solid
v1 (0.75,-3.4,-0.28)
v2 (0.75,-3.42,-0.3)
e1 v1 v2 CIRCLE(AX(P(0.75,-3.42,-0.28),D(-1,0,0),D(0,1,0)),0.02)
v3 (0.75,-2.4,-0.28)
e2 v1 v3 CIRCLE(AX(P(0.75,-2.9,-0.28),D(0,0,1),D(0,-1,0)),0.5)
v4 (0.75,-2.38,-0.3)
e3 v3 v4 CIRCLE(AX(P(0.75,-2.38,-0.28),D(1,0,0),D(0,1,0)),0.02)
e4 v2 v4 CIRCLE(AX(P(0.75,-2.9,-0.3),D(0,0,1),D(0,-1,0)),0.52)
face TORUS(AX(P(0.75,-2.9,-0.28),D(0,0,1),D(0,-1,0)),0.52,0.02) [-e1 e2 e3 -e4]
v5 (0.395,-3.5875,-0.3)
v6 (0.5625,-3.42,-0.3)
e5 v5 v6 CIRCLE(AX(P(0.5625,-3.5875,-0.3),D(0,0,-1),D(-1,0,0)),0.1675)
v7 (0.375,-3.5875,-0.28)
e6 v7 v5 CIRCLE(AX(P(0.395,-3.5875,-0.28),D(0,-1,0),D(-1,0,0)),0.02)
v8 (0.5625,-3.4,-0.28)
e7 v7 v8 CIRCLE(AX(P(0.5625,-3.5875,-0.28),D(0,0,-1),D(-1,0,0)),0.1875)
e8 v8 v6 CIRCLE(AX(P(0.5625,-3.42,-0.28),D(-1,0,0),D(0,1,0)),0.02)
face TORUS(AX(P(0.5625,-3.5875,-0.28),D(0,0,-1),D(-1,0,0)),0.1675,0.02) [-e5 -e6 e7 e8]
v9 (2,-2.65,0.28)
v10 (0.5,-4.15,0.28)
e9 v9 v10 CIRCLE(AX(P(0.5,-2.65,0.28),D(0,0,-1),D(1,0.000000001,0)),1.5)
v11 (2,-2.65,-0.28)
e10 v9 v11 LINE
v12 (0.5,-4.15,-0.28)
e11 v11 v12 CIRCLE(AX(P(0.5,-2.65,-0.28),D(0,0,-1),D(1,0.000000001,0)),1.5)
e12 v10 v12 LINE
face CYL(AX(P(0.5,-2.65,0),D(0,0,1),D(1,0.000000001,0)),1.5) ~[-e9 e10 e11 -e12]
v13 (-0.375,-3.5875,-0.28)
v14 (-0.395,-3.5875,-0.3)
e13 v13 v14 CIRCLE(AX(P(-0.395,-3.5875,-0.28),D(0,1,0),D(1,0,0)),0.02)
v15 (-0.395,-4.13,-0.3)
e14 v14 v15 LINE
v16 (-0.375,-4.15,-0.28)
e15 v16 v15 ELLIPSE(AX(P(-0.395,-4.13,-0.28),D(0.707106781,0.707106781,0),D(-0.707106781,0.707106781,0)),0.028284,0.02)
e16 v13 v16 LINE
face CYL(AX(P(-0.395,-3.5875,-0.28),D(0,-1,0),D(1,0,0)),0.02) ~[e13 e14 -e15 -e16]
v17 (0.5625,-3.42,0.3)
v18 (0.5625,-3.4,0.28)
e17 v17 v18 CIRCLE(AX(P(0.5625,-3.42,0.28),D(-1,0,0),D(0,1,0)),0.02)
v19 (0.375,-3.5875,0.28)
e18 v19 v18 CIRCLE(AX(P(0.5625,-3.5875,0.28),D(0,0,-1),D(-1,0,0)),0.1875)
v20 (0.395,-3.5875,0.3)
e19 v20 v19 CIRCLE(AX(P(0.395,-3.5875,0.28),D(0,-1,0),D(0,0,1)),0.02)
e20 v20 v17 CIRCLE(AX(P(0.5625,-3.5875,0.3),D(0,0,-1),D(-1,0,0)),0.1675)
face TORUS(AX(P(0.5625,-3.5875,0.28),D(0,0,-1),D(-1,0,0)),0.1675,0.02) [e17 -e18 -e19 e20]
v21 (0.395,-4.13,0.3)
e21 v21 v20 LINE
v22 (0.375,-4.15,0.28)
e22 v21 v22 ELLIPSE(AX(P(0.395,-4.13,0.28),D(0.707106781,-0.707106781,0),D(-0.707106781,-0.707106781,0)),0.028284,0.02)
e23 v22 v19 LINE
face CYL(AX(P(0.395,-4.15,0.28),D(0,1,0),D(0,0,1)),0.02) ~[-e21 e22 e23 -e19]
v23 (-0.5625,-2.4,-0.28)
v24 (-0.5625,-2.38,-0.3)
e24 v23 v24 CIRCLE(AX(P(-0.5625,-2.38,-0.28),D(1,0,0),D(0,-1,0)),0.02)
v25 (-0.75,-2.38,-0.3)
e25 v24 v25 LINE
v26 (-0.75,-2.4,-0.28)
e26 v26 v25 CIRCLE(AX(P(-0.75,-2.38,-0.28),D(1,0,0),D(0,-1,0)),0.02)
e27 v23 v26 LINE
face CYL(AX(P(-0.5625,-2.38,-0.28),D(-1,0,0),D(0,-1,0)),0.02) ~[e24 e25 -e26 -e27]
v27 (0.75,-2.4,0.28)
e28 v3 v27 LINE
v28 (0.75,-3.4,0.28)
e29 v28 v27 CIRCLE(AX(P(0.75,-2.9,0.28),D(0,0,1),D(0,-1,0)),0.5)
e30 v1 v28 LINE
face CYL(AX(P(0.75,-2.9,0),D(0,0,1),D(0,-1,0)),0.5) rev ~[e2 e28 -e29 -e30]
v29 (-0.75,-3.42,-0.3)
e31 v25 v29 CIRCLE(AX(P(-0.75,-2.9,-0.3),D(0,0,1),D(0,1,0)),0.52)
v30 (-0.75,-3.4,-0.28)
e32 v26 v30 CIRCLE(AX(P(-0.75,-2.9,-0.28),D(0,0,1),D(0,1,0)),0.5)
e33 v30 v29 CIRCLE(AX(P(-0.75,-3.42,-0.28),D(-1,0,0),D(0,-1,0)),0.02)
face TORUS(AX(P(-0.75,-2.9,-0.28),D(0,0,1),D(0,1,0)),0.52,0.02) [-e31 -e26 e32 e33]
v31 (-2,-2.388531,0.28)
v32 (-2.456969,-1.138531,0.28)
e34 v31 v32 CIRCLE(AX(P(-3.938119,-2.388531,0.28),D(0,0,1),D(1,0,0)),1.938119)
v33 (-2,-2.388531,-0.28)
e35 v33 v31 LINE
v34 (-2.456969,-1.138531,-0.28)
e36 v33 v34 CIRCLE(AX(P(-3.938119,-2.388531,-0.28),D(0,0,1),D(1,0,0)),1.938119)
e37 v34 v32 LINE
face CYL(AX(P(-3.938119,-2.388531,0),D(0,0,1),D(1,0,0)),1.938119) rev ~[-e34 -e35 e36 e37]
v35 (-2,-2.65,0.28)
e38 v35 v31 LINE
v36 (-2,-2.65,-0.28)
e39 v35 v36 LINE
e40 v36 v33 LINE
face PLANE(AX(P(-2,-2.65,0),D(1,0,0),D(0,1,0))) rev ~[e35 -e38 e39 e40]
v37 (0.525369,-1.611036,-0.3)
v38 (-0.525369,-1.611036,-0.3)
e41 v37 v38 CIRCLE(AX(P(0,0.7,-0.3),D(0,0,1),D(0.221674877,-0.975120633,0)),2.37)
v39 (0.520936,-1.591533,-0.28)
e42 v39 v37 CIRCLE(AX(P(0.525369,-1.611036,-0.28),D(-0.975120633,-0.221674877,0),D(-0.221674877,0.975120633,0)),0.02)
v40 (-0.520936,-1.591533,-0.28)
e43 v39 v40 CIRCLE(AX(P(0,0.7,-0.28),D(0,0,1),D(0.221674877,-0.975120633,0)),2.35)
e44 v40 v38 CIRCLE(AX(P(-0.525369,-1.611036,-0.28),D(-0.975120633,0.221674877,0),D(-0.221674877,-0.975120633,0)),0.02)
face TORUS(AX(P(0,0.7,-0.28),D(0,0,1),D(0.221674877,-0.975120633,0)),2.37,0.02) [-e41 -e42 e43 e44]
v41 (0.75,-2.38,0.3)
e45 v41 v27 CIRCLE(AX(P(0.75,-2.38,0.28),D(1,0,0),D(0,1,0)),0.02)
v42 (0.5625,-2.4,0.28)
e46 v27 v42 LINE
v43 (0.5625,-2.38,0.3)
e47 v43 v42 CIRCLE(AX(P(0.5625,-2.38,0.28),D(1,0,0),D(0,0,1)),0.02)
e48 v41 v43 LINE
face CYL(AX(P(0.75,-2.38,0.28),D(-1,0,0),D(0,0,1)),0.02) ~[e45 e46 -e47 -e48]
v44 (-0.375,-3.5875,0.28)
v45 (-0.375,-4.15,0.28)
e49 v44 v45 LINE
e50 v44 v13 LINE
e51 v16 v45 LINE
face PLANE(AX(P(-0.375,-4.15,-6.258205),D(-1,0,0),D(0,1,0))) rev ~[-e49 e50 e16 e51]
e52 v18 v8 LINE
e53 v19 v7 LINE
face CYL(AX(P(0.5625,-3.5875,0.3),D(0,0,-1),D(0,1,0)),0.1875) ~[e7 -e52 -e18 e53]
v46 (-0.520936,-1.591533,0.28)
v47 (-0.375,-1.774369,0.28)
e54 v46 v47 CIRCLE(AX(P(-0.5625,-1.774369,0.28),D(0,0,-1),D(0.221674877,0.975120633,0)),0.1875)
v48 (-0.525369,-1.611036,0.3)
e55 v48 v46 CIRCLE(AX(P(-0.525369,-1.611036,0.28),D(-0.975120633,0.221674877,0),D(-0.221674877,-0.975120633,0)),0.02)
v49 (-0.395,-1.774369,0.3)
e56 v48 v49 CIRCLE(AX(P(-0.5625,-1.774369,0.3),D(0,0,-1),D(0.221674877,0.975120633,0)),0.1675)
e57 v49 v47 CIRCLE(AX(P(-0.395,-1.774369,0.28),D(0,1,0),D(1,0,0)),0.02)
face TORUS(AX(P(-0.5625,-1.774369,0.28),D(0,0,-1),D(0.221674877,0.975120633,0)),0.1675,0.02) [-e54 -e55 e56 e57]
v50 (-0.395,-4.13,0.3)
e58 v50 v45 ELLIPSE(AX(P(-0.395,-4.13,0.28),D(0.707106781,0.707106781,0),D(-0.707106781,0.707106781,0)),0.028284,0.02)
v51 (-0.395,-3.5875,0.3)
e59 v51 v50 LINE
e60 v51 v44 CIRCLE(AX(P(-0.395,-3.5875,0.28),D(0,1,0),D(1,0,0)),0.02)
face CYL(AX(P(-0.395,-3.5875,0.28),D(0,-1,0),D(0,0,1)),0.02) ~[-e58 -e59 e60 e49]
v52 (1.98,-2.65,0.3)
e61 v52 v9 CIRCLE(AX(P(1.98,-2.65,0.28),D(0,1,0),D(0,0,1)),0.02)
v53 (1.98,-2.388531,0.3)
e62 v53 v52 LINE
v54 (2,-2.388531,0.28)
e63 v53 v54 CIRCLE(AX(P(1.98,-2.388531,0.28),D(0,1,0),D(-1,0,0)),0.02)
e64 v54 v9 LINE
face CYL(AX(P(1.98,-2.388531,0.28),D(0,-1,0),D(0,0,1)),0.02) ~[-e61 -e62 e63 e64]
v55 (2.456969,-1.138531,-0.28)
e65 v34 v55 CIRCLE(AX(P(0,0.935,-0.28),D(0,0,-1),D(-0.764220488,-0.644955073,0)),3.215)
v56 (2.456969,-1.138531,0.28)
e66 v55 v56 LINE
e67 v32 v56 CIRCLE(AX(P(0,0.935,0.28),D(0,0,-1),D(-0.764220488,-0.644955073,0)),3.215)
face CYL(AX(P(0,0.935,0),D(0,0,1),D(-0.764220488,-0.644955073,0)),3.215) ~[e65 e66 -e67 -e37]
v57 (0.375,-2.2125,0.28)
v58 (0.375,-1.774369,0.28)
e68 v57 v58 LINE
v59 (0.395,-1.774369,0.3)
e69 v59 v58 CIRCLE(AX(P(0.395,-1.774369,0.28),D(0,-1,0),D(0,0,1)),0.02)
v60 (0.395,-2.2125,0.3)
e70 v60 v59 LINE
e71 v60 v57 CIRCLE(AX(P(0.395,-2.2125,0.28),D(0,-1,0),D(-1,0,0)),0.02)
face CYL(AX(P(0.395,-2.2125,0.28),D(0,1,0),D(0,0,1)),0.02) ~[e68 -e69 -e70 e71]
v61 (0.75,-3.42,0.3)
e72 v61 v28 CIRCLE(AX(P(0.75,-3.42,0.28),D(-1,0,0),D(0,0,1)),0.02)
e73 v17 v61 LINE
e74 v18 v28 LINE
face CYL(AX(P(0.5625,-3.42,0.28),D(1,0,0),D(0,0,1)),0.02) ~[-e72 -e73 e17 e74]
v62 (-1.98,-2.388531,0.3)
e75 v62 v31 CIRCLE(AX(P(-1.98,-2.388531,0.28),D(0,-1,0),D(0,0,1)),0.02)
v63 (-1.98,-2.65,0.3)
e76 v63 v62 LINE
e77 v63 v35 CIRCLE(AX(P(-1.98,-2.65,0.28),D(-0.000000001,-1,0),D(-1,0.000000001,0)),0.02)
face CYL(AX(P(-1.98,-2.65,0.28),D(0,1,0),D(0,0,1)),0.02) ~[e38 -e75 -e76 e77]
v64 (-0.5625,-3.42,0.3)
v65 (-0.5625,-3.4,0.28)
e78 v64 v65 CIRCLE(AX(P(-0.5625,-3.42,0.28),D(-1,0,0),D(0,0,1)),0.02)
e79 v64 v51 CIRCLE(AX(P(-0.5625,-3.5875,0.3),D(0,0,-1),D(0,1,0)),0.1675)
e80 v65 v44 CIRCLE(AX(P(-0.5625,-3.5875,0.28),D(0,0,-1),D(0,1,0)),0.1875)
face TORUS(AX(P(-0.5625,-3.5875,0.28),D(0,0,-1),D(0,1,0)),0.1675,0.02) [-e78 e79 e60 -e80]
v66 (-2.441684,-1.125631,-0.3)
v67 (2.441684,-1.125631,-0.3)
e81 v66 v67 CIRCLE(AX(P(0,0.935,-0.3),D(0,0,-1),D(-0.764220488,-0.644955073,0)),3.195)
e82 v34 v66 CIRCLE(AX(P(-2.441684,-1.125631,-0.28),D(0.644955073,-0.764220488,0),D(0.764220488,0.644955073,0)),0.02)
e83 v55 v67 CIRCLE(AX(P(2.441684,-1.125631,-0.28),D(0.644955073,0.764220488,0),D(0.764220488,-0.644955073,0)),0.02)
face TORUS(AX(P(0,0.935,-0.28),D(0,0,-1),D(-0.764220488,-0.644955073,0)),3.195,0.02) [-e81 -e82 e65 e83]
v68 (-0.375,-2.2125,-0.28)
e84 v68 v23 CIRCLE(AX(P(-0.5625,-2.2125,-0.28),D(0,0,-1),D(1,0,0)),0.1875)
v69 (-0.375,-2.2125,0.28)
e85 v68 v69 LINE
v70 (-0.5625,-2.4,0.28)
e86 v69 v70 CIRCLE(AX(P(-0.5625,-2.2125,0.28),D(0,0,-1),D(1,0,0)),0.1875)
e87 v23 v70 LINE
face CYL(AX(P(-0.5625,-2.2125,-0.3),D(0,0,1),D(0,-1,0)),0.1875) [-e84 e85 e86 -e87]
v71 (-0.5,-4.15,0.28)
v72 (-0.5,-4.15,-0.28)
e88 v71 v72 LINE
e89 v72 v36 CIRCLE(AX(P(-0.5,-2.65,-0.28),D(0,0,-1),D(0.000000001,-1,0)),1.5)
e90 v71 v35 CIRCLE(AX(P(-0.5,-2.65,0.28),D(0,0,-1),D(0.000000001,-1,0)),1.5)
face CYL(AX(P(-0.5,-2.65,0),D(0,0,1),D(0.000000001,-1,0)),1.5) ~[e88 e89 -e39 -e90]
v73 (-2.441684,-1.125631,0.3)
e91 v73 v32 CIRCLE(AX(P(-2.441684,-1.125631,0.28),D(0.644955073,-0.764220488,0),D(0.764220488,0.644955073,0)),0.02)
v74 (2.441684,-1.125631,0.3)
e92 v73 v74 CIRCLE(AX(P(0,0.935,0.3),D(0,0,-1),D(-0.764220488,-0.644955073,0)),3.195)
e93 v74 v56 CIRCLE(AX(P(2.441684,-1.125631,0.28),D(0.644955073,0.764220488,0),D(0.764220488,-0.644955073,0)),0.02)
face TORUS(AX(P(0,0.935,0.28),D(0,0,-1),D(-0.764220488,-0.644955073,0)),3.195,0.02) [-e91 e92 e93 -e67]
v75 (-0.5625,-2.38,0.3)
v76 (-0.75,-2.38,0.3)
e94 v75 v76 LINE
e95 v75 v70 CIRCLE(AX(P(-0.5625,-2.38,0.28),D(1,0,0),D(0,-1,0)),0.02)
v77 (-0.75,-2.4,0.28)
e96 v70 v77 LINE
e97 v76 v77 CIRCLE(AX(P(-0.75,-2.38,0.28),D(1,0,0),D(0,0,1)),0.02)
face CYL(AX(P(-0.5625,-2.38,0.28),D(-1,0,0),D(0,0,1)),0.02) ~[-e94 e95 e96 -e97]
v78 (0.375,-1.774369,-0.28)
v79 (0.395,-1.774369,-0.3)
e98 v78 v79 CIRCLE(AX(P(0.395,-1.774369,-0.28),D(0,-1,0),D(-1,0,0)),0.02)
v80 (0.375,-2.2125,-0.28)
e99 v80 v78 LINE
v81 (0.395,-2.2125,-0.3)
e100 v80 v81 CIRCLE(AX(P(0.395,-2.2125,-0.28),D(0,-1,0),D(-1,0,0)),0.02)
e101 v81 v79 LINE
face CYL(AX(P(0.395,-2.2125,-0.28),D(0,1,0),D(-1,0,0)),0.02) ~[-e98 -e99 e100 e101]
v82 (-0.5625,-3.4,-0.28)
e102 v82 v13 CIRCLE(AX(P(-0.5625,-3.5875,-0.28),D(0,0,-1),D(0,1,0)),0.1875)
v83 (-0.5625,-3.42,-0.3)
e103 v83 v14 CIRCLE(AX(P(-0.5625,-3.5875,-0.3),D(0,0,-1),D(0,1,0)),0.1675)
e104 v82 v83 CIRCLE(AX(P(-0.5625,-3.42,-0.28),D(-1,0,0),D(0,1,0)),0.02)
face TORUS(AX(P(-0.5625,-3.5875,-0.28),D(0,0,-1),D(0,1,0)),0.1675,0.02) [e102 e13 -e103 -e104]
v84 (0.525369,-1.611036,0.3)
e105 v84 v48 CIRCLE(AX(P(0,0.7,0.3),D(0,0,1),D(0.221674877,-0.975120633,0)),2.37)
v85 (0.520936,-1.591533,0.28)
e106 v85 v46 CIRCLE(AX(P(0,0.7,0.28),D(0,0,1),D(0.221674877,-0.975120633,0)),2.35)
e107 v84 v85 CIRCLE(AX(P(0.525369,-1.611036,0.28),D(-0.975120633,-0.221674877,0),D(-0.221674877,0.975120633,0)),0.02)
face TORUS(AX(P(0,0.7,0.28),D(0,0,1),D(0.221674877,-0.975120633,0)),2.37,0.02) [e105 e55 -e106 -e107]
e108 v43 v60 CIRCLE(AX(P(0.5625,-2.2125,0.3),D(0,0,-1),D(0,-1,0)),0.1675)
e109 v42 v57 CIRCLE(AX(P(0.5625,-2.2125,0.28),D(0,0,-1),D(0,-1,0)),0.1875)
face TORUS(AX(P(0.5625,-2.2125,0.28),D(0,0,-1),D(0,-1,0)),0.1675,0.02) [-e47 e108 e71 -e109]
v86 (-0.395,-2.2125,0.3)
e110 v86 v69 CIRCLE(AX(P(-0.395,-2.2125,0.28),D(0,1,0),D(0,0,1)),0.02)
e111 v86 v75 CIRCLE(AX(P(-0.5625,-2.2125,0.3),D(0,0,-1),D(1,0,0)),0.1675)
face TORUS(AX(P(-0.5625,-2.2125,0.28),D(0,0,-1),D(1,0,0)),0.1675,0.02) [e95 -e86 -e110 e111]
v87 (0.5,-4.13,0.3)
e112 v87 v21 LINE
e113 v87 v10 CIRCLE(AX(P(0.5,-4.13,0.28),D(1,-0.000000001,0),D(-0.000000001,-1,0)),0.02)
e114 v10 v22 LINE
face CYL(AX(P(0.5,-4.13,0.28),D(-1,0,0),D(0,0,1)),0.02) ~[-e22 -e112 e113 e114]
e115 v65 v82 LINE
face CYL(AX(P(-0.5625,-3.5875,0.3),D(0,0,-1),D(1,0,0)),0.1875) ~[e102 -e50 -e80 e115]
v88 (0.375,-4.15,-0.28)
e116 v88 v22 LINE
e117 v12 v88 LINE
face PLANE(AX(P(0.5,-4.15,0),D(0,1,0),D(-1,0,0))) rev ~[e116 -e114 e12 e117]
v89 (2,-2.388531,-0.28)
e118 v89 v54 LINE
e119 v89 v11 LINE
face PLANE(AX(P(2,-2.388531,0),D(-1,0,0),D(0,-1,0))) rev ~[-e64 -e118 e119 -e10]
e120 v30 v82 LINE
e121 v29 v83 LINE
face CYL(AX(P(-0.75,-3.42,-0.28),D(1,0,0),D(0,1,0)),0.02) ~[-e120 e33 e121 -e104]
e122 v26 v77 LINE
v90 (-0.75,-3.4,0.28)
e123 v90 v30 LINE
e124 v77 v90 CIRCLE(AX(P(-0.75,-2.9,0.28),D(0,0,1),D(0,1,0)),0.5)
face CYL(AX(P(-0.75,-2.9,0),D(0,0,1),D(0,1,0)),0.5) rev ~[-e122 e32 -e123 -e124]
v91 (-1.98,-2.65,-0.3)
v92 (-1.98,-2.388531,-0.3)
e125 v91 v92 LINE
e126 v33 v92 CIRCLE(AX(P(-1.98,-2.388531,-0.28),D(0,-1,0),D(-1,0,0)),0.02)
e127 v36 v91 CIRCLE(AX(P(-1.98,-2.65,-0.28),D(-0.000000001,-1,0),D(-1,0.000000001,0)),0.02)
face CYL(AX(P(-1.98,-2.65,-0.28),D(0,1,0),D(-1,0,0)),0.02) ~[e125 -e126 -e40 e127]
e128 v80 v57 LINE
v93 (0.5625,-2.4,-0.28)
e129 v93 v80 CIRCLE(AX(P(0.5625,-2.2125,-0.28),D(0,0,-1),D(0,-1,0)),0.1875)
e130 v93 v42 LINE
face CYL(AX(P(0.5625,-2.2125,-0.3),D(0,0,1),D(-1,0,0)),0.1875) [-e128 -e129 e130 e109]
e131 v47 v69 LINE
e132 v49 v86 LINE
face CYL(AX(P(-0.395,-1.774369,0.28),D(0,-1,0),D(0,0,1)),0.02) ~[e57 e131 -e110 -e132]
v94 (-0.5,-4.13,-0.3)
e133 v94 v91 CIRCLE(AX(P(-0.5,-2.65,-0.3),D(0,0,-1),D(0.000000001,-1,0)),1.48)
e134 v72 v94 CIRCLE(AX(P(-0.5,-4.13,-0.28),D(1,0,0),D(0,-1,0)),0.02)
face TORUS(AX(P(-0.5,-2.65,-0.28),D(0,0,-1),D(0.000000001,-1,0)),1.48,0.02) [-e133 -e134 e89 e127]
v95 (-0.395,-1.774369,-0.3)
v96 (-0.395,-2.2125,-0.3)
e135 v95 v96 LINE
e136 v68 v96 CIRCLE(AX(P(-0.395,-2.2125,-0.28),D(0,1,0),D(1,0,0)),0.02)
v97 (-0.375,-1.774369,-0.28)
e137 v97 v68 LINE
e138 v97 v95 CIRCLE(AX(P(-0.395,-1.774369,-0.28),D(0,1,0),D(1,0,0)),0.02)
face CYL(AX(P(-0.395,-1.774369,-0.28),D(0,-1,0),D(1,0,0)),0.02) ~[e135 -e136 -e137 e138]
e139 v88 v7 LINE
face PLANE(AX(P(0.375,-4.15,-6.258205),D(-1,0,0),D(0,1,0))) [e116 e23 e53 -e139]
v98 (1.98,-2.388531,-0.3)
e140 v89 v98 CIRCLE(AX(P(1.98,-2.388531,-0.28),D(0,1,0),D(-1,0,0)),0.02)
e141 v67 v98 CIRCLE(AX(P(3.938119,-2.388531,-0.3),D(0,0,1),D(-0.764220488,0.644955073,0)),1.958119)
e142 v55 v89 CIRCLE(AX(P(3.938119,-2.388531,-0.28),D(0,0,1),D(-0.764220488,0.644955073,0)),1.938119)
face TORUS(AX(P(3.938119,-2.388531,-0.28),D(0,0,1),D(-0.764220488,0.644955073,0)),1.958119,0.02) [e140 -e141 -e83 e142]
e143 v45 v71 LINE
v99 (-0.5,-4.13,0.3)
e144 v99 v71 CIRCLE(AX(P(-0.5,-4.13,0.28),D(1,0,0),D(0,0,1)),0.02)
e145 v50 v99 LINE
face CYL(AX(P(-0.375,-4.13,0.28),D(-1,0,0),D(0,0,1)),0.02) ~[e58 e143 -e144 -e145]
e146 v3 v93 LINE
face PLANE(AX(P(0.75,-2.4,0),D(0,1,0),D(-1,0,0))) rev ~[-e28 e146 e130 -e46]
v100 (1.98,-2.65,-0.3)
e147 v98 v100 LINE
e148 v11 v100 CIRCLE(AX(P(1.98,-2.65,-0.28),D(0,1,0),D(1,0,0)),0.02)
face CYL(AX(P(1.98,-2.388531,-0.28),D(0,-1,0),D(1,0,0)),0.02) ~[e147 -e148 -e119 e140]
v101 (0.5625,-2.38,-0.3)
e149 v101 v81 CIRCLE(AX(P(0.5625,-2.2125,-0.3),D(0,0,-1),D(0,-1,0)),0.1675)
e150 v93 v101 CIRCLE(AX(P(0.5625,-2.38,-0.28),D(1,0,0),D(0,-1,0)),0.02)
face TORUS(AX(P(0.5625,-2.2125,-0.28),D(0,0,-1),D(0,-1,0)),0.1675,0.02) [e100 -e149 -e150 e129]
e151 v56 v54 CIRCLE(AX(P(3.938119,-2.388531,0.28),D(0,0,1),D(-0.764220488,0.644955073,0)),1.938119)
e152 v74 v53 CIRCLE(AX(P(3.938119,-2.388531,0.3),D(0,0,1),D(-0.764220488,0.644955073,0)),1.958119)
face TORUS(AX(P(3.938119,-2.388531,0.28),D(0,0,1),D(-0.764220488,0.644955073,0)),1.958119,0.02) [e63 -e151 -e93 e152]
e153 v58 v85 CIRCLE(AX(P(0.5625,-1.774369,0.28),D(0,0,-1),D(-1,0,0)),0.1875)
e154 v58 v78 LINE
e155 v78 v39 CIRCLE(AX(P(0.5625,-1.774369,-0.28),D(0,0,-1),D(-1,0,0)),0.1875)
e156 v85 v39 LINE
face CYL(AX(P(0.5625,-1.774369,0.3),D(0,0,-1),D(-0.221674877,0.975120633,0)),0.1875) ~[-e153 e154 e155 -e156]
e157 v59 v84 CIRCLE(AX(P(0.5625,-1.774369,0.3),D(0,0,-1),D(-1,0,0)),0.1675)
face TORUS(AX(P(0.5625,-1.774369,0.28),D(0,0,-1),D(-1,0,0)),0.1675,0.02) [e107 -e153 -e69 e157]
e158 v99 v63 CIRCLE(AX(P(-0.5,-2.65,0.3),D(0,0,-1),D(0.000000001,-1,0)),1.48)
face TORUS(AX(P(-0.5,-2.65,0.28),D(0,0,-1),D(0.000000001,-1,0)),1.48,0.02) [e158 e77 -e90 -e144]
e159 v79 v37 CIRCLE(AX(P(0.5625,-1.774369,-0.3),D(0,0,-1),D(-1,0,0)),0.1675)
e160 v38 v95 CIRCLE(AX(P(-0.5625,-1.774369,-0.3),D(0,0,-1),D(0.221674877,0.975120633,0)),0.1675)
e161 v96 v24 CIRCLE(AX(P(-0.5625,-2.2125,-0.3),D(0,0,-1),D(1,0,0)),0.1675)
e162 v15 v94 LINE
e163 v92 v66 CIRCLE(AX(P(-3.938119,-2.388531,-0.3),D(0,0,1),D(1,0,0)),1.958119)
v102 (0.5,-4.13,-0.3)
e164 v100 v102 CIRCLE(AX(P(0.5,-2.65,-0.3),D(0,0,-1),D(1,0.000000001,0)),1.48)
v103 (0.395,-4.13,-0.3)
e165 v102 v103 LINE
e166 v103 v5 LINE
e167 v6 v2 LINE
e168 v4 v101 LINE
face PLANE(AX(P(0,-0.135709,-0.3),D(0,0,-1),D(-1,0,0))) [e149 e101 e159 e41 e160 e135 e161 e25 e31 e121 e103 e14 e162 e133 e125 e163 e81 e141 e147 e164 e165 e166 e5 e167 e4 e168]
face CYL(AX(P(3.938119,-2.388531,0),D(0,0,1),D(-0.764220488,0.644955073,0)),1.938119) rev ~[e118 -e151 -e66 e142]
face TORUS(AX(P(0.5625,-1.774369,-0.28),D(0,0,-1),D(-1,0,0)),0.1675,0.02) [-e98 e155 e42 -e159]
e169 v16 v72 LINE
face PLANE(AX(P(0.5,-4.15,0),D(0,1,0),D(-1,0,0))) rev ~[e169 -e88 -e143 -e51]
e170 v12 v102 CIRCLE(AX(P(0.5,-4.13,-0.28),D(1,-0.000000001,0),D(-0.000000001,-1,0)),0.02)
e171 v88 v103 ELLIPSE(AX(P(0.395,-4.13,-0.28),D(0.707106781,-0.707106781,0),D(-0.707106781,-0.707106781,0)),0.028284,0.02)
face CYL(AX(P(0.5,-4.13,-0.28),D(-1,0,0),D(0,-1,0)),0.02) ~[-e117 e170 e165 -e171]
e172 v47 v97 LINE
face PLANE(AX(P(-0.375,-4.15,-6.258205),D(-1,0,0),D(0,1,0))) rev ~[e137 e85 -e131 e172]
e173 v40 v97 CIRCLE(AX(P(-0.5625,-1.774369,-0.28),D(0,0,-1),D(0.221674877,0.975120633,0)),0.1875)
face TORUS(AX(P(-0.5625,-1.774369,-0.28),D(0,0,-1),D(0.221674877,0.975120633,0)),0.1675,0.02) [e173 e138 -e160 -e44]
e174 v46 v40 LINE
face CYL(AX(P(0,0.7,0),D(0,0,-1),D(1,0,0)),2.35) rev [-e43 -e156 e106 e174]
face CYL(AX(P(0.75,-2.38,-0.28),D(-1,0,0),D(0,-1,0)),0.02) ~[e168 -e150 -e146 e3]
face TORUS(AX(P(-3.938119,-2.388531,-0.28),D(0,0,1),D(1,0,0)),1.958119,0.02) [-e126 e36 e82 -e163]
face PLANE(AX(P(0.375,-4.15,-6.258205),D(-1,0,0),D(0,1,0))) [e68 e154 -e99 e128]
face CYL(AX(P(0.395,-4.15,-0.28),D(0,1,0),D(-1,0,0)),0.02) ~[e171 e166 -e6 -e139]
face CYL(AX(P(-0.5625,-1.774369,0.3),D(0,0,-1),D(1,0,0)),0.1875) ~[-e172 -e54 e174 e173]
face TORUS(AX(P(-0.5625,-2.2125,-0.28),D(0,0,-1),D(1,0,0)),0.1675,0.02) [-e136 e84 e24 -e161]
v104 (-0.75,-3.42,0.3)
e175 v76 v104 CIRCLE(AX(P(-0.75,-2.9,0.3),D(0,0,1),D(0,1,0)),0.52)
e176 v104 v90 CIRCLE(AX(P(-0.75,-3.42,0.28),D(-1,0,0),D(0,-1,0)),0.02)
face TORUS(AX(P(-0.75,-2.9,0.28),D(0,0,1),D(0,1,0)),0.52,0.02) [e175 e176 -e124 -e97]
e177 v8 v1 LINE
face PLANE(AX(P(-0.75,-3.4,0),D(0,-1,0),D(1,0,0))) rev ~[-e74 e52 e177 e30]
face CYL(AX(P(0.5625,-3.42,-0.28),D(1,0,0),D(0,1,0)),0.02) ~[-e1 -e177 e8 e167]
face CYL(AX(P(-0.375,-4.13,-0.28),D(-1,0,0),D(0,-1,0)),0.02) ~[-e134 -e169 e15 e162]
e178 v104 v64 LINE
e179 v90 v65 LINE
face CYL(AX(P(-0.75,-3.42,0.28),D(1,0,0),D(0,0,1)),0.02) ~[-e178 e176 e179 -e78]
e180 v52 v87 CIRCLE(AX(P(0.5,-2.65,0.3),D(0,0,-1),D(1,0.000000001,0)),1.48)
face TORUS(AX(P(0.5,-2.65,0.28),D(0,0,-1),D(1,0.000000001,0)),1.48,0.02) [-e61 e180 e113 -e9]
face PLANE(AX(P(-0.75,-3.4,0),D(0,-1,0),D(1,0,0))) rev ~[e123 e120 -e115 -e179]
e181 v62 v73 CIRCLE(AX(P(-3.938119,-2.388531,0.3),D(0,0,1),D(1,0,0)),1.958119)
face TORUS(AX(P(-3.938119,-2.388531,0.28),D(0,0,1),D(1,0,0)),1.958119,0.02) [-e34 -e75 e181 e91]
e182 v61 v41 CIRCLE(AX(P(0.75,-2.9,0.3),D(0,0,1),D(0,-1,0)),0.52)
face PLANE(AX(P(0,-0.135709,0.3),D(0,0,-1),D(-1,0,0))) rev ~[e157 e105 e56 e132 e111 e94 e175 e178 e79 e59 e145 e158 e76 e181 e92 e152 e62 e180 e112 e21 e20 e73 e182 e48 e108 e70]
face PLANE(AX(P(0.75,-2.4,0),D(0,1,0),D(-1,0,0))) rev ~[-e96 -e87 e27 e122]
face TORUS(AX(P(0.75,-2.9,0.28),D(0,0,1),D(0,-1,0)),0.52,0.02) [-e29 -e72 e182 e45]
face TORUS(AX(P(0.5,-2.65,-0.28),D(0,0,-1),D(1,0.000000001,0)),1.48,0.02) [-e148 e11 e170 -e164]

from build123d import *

# Parameters (mm, degrees)
SKETCH3_R                    = 2.35
BOSS_EXTRUDE1_DEPTH          = 0.3
CUT_EXTRUDE_THIN1_DEPTH      = 6.258205492
CUT_EXTRUDE_THIN1_DEPTH_BACK = 6.258205492
SKETCH4_W                    = 0.75
SKETCH4_H                    = 4.85
FILLET2_R                    = 0.1875
FILLET1_R                    = 0.02


with BuildPart() as part:
    # Sketch3 → Boss-Extrude1 (new, symmetric)
    with BuildSketch(Plane.XY):
        with BuildLine():
            Line((2, -2.388530559), (2, -2.65))
            ThreePointArc((2, -2.65), (1.560660172, -3.710660172), (0.5, -4.15))
            Line((0.5, -4.15), (-0.5, -4.15))
            ThreePointArc((-0.5, -4.15), (-1.560660172, -3.710660172), (-2, -2.65))
            Line((-2, -2.65), (-2, -2.388530559))
            ThreePointArc((-2, -2.388530559), (-2.117823629, -1.723075724), (-2.456968869, -1.138530559))
            ThreePointArc((-2.456968869, -1.138530559), (0, 4.15), (2.456968869, -1.138530559))
            ThreePointArc((2.456968869, -1.138530559), (2.117823629, -1.723075724), (2, -2.388530559))
        make_face()
        with Locations((0, 0.7)):
            Circle(SKETCH3_R, mode=Mode.SUBTRACT)
        with BuildLine():
            Line((-0.75, -3.4), (0.75, -3.4))
            ThreePointArc((0.75, -3.4), (1.25, -2.9), (0.75, -2.4))
            Line((0.75, -2.4), (-0.75, -2.4))
            ThreePointArc((-0.75, -2.4), (-1.25, -2.9), (-0.75, -3.4))
        make_face(mode=Mode.SUBTRACT)
    extrude(amount=BOSS_EXTRUDE1_DEPTH, both=True)

    # Sketch4 → Cut-Extrude-Thin1 (cut, two sides: drawn at the far end of the back side and taken through both)
    with BuildSketch(Plane.XY.offset(-CUT_EXTRUDE_THIN1_DEPTH_BACK)):
        with Locations((0, -1.725)):
            Rectangle(SKETCH4_W, SKETCH4_H)
    extrude(amount=CUT_EXTRUDE_THIN1_DEPTH + CUT_EXTRUDE_THIN1_DEPTH_BACK, mode=Mode.SUBTRACT)

    # Fillet2
    fillet2_edges = [part.edges().sort_by_distance(p)[0] for p in [
        (0.375, -1.619886851, 0),
        (-0.375, -1.619886851, 0),
        (-0.375, -3.4, 0),
        (-0.375, -2.4, 0),
        (0.375, -3.4, 0),
        (0.375, -2.4, 0),
    ]]
    fillet(fillet2_edges, radius=FILLET2_R)

    # Fillet1
    fillet1_edges = [part.edges().sort_by_distance(p)[0] for p in [
        (-1.560660172, -3.710660172, 0.3),
        (-2, -2.519265279, -0.3),
        (-2.117823629, -1.723075724, -0.3),
        (-0.4375, -4.15, 0.3),
        (1.560660172, -3.710660172, 0.3),
        (2, -2.519265279, 0.3),
        (2.117823629, -1.723075724, 0.3),
        (-1.25, -2.9, -0.3),
        (-0.65625, -3.4, -0.3),
        (1.25, -2.9, -0.3),
        (0.65625, -2.4, -0.3),
        (0, 4.15, 0.3),
        (-1.25, -2.9, 0.3),
        (-0.65625, -3.4, 0.3),
        (1.25, -2.9, 0.3),
        (0.65625, -2.4, 0.3),
        (-2.117823629, -1.723075724, 0.3),
        (0.4375, -4.15, -0.3),
        (0.4375, -4.15, 0.3),
        (-2, -2.519265279, 0.3),
        (0, 4.15, -0.3),
        (0.65625, -3.4, -0.3),
        (0.65625, -3.4, 0.3),
        (-0.375, -3.86875, 0.3),
        (-0.65625, -2.4, 0.3),
        (-0.375, -1.993434303, 0.3),
        (0, 3.05, 0.3),
        (0.375, -1.993434303, 0.3),
        (2.117823629, -1.723075724, -0.3),
        (0.375, -3.86875, 0.3),
        (-0.415957331, -1.657400678, 0.3),
        (-0.429917479, -2.345082521, 0.3),
        (0.415957331, -1.657400678, 0.3),
        (0.429917479, -2.345082521, 0.3),
        (-0.429917479, -3.454917479, 0.3),
        (0.429917479, -3.454917479, 0.3),
        (0.375, -3.86875, -0.3),
        (2, -2.519265279, -0.3),
        (-0.375, -3.86875, -0.3),
        (0.375, -1.993434303, -0.3),
        (0, 3.05, -0.3),
        (-0.375, -1.993434303, -0.3),
        (-0.65625, -2.4, -0.3),
        (-0.415957331, -1.657400678, -0.3),
        (-0.429917479, -2.345082521, -0.3),
        (1.560660172, -3.710660172, -0.3),
        (0.415957331, -1.657400678, -0.3),
        (0.429917479, -2.345082521, -0.3),
        (-0.429917479, -3.454917479, -0.3),
        (0.429917479, -3.454917479, -0.3),
        (-0.4375, -4.15, -0.3),
        (-1.560660172, -3.710660172, -0.3),
    ]]
    fillet(fillet1_edges, radius=FILLET1_R)


solid = part.part
